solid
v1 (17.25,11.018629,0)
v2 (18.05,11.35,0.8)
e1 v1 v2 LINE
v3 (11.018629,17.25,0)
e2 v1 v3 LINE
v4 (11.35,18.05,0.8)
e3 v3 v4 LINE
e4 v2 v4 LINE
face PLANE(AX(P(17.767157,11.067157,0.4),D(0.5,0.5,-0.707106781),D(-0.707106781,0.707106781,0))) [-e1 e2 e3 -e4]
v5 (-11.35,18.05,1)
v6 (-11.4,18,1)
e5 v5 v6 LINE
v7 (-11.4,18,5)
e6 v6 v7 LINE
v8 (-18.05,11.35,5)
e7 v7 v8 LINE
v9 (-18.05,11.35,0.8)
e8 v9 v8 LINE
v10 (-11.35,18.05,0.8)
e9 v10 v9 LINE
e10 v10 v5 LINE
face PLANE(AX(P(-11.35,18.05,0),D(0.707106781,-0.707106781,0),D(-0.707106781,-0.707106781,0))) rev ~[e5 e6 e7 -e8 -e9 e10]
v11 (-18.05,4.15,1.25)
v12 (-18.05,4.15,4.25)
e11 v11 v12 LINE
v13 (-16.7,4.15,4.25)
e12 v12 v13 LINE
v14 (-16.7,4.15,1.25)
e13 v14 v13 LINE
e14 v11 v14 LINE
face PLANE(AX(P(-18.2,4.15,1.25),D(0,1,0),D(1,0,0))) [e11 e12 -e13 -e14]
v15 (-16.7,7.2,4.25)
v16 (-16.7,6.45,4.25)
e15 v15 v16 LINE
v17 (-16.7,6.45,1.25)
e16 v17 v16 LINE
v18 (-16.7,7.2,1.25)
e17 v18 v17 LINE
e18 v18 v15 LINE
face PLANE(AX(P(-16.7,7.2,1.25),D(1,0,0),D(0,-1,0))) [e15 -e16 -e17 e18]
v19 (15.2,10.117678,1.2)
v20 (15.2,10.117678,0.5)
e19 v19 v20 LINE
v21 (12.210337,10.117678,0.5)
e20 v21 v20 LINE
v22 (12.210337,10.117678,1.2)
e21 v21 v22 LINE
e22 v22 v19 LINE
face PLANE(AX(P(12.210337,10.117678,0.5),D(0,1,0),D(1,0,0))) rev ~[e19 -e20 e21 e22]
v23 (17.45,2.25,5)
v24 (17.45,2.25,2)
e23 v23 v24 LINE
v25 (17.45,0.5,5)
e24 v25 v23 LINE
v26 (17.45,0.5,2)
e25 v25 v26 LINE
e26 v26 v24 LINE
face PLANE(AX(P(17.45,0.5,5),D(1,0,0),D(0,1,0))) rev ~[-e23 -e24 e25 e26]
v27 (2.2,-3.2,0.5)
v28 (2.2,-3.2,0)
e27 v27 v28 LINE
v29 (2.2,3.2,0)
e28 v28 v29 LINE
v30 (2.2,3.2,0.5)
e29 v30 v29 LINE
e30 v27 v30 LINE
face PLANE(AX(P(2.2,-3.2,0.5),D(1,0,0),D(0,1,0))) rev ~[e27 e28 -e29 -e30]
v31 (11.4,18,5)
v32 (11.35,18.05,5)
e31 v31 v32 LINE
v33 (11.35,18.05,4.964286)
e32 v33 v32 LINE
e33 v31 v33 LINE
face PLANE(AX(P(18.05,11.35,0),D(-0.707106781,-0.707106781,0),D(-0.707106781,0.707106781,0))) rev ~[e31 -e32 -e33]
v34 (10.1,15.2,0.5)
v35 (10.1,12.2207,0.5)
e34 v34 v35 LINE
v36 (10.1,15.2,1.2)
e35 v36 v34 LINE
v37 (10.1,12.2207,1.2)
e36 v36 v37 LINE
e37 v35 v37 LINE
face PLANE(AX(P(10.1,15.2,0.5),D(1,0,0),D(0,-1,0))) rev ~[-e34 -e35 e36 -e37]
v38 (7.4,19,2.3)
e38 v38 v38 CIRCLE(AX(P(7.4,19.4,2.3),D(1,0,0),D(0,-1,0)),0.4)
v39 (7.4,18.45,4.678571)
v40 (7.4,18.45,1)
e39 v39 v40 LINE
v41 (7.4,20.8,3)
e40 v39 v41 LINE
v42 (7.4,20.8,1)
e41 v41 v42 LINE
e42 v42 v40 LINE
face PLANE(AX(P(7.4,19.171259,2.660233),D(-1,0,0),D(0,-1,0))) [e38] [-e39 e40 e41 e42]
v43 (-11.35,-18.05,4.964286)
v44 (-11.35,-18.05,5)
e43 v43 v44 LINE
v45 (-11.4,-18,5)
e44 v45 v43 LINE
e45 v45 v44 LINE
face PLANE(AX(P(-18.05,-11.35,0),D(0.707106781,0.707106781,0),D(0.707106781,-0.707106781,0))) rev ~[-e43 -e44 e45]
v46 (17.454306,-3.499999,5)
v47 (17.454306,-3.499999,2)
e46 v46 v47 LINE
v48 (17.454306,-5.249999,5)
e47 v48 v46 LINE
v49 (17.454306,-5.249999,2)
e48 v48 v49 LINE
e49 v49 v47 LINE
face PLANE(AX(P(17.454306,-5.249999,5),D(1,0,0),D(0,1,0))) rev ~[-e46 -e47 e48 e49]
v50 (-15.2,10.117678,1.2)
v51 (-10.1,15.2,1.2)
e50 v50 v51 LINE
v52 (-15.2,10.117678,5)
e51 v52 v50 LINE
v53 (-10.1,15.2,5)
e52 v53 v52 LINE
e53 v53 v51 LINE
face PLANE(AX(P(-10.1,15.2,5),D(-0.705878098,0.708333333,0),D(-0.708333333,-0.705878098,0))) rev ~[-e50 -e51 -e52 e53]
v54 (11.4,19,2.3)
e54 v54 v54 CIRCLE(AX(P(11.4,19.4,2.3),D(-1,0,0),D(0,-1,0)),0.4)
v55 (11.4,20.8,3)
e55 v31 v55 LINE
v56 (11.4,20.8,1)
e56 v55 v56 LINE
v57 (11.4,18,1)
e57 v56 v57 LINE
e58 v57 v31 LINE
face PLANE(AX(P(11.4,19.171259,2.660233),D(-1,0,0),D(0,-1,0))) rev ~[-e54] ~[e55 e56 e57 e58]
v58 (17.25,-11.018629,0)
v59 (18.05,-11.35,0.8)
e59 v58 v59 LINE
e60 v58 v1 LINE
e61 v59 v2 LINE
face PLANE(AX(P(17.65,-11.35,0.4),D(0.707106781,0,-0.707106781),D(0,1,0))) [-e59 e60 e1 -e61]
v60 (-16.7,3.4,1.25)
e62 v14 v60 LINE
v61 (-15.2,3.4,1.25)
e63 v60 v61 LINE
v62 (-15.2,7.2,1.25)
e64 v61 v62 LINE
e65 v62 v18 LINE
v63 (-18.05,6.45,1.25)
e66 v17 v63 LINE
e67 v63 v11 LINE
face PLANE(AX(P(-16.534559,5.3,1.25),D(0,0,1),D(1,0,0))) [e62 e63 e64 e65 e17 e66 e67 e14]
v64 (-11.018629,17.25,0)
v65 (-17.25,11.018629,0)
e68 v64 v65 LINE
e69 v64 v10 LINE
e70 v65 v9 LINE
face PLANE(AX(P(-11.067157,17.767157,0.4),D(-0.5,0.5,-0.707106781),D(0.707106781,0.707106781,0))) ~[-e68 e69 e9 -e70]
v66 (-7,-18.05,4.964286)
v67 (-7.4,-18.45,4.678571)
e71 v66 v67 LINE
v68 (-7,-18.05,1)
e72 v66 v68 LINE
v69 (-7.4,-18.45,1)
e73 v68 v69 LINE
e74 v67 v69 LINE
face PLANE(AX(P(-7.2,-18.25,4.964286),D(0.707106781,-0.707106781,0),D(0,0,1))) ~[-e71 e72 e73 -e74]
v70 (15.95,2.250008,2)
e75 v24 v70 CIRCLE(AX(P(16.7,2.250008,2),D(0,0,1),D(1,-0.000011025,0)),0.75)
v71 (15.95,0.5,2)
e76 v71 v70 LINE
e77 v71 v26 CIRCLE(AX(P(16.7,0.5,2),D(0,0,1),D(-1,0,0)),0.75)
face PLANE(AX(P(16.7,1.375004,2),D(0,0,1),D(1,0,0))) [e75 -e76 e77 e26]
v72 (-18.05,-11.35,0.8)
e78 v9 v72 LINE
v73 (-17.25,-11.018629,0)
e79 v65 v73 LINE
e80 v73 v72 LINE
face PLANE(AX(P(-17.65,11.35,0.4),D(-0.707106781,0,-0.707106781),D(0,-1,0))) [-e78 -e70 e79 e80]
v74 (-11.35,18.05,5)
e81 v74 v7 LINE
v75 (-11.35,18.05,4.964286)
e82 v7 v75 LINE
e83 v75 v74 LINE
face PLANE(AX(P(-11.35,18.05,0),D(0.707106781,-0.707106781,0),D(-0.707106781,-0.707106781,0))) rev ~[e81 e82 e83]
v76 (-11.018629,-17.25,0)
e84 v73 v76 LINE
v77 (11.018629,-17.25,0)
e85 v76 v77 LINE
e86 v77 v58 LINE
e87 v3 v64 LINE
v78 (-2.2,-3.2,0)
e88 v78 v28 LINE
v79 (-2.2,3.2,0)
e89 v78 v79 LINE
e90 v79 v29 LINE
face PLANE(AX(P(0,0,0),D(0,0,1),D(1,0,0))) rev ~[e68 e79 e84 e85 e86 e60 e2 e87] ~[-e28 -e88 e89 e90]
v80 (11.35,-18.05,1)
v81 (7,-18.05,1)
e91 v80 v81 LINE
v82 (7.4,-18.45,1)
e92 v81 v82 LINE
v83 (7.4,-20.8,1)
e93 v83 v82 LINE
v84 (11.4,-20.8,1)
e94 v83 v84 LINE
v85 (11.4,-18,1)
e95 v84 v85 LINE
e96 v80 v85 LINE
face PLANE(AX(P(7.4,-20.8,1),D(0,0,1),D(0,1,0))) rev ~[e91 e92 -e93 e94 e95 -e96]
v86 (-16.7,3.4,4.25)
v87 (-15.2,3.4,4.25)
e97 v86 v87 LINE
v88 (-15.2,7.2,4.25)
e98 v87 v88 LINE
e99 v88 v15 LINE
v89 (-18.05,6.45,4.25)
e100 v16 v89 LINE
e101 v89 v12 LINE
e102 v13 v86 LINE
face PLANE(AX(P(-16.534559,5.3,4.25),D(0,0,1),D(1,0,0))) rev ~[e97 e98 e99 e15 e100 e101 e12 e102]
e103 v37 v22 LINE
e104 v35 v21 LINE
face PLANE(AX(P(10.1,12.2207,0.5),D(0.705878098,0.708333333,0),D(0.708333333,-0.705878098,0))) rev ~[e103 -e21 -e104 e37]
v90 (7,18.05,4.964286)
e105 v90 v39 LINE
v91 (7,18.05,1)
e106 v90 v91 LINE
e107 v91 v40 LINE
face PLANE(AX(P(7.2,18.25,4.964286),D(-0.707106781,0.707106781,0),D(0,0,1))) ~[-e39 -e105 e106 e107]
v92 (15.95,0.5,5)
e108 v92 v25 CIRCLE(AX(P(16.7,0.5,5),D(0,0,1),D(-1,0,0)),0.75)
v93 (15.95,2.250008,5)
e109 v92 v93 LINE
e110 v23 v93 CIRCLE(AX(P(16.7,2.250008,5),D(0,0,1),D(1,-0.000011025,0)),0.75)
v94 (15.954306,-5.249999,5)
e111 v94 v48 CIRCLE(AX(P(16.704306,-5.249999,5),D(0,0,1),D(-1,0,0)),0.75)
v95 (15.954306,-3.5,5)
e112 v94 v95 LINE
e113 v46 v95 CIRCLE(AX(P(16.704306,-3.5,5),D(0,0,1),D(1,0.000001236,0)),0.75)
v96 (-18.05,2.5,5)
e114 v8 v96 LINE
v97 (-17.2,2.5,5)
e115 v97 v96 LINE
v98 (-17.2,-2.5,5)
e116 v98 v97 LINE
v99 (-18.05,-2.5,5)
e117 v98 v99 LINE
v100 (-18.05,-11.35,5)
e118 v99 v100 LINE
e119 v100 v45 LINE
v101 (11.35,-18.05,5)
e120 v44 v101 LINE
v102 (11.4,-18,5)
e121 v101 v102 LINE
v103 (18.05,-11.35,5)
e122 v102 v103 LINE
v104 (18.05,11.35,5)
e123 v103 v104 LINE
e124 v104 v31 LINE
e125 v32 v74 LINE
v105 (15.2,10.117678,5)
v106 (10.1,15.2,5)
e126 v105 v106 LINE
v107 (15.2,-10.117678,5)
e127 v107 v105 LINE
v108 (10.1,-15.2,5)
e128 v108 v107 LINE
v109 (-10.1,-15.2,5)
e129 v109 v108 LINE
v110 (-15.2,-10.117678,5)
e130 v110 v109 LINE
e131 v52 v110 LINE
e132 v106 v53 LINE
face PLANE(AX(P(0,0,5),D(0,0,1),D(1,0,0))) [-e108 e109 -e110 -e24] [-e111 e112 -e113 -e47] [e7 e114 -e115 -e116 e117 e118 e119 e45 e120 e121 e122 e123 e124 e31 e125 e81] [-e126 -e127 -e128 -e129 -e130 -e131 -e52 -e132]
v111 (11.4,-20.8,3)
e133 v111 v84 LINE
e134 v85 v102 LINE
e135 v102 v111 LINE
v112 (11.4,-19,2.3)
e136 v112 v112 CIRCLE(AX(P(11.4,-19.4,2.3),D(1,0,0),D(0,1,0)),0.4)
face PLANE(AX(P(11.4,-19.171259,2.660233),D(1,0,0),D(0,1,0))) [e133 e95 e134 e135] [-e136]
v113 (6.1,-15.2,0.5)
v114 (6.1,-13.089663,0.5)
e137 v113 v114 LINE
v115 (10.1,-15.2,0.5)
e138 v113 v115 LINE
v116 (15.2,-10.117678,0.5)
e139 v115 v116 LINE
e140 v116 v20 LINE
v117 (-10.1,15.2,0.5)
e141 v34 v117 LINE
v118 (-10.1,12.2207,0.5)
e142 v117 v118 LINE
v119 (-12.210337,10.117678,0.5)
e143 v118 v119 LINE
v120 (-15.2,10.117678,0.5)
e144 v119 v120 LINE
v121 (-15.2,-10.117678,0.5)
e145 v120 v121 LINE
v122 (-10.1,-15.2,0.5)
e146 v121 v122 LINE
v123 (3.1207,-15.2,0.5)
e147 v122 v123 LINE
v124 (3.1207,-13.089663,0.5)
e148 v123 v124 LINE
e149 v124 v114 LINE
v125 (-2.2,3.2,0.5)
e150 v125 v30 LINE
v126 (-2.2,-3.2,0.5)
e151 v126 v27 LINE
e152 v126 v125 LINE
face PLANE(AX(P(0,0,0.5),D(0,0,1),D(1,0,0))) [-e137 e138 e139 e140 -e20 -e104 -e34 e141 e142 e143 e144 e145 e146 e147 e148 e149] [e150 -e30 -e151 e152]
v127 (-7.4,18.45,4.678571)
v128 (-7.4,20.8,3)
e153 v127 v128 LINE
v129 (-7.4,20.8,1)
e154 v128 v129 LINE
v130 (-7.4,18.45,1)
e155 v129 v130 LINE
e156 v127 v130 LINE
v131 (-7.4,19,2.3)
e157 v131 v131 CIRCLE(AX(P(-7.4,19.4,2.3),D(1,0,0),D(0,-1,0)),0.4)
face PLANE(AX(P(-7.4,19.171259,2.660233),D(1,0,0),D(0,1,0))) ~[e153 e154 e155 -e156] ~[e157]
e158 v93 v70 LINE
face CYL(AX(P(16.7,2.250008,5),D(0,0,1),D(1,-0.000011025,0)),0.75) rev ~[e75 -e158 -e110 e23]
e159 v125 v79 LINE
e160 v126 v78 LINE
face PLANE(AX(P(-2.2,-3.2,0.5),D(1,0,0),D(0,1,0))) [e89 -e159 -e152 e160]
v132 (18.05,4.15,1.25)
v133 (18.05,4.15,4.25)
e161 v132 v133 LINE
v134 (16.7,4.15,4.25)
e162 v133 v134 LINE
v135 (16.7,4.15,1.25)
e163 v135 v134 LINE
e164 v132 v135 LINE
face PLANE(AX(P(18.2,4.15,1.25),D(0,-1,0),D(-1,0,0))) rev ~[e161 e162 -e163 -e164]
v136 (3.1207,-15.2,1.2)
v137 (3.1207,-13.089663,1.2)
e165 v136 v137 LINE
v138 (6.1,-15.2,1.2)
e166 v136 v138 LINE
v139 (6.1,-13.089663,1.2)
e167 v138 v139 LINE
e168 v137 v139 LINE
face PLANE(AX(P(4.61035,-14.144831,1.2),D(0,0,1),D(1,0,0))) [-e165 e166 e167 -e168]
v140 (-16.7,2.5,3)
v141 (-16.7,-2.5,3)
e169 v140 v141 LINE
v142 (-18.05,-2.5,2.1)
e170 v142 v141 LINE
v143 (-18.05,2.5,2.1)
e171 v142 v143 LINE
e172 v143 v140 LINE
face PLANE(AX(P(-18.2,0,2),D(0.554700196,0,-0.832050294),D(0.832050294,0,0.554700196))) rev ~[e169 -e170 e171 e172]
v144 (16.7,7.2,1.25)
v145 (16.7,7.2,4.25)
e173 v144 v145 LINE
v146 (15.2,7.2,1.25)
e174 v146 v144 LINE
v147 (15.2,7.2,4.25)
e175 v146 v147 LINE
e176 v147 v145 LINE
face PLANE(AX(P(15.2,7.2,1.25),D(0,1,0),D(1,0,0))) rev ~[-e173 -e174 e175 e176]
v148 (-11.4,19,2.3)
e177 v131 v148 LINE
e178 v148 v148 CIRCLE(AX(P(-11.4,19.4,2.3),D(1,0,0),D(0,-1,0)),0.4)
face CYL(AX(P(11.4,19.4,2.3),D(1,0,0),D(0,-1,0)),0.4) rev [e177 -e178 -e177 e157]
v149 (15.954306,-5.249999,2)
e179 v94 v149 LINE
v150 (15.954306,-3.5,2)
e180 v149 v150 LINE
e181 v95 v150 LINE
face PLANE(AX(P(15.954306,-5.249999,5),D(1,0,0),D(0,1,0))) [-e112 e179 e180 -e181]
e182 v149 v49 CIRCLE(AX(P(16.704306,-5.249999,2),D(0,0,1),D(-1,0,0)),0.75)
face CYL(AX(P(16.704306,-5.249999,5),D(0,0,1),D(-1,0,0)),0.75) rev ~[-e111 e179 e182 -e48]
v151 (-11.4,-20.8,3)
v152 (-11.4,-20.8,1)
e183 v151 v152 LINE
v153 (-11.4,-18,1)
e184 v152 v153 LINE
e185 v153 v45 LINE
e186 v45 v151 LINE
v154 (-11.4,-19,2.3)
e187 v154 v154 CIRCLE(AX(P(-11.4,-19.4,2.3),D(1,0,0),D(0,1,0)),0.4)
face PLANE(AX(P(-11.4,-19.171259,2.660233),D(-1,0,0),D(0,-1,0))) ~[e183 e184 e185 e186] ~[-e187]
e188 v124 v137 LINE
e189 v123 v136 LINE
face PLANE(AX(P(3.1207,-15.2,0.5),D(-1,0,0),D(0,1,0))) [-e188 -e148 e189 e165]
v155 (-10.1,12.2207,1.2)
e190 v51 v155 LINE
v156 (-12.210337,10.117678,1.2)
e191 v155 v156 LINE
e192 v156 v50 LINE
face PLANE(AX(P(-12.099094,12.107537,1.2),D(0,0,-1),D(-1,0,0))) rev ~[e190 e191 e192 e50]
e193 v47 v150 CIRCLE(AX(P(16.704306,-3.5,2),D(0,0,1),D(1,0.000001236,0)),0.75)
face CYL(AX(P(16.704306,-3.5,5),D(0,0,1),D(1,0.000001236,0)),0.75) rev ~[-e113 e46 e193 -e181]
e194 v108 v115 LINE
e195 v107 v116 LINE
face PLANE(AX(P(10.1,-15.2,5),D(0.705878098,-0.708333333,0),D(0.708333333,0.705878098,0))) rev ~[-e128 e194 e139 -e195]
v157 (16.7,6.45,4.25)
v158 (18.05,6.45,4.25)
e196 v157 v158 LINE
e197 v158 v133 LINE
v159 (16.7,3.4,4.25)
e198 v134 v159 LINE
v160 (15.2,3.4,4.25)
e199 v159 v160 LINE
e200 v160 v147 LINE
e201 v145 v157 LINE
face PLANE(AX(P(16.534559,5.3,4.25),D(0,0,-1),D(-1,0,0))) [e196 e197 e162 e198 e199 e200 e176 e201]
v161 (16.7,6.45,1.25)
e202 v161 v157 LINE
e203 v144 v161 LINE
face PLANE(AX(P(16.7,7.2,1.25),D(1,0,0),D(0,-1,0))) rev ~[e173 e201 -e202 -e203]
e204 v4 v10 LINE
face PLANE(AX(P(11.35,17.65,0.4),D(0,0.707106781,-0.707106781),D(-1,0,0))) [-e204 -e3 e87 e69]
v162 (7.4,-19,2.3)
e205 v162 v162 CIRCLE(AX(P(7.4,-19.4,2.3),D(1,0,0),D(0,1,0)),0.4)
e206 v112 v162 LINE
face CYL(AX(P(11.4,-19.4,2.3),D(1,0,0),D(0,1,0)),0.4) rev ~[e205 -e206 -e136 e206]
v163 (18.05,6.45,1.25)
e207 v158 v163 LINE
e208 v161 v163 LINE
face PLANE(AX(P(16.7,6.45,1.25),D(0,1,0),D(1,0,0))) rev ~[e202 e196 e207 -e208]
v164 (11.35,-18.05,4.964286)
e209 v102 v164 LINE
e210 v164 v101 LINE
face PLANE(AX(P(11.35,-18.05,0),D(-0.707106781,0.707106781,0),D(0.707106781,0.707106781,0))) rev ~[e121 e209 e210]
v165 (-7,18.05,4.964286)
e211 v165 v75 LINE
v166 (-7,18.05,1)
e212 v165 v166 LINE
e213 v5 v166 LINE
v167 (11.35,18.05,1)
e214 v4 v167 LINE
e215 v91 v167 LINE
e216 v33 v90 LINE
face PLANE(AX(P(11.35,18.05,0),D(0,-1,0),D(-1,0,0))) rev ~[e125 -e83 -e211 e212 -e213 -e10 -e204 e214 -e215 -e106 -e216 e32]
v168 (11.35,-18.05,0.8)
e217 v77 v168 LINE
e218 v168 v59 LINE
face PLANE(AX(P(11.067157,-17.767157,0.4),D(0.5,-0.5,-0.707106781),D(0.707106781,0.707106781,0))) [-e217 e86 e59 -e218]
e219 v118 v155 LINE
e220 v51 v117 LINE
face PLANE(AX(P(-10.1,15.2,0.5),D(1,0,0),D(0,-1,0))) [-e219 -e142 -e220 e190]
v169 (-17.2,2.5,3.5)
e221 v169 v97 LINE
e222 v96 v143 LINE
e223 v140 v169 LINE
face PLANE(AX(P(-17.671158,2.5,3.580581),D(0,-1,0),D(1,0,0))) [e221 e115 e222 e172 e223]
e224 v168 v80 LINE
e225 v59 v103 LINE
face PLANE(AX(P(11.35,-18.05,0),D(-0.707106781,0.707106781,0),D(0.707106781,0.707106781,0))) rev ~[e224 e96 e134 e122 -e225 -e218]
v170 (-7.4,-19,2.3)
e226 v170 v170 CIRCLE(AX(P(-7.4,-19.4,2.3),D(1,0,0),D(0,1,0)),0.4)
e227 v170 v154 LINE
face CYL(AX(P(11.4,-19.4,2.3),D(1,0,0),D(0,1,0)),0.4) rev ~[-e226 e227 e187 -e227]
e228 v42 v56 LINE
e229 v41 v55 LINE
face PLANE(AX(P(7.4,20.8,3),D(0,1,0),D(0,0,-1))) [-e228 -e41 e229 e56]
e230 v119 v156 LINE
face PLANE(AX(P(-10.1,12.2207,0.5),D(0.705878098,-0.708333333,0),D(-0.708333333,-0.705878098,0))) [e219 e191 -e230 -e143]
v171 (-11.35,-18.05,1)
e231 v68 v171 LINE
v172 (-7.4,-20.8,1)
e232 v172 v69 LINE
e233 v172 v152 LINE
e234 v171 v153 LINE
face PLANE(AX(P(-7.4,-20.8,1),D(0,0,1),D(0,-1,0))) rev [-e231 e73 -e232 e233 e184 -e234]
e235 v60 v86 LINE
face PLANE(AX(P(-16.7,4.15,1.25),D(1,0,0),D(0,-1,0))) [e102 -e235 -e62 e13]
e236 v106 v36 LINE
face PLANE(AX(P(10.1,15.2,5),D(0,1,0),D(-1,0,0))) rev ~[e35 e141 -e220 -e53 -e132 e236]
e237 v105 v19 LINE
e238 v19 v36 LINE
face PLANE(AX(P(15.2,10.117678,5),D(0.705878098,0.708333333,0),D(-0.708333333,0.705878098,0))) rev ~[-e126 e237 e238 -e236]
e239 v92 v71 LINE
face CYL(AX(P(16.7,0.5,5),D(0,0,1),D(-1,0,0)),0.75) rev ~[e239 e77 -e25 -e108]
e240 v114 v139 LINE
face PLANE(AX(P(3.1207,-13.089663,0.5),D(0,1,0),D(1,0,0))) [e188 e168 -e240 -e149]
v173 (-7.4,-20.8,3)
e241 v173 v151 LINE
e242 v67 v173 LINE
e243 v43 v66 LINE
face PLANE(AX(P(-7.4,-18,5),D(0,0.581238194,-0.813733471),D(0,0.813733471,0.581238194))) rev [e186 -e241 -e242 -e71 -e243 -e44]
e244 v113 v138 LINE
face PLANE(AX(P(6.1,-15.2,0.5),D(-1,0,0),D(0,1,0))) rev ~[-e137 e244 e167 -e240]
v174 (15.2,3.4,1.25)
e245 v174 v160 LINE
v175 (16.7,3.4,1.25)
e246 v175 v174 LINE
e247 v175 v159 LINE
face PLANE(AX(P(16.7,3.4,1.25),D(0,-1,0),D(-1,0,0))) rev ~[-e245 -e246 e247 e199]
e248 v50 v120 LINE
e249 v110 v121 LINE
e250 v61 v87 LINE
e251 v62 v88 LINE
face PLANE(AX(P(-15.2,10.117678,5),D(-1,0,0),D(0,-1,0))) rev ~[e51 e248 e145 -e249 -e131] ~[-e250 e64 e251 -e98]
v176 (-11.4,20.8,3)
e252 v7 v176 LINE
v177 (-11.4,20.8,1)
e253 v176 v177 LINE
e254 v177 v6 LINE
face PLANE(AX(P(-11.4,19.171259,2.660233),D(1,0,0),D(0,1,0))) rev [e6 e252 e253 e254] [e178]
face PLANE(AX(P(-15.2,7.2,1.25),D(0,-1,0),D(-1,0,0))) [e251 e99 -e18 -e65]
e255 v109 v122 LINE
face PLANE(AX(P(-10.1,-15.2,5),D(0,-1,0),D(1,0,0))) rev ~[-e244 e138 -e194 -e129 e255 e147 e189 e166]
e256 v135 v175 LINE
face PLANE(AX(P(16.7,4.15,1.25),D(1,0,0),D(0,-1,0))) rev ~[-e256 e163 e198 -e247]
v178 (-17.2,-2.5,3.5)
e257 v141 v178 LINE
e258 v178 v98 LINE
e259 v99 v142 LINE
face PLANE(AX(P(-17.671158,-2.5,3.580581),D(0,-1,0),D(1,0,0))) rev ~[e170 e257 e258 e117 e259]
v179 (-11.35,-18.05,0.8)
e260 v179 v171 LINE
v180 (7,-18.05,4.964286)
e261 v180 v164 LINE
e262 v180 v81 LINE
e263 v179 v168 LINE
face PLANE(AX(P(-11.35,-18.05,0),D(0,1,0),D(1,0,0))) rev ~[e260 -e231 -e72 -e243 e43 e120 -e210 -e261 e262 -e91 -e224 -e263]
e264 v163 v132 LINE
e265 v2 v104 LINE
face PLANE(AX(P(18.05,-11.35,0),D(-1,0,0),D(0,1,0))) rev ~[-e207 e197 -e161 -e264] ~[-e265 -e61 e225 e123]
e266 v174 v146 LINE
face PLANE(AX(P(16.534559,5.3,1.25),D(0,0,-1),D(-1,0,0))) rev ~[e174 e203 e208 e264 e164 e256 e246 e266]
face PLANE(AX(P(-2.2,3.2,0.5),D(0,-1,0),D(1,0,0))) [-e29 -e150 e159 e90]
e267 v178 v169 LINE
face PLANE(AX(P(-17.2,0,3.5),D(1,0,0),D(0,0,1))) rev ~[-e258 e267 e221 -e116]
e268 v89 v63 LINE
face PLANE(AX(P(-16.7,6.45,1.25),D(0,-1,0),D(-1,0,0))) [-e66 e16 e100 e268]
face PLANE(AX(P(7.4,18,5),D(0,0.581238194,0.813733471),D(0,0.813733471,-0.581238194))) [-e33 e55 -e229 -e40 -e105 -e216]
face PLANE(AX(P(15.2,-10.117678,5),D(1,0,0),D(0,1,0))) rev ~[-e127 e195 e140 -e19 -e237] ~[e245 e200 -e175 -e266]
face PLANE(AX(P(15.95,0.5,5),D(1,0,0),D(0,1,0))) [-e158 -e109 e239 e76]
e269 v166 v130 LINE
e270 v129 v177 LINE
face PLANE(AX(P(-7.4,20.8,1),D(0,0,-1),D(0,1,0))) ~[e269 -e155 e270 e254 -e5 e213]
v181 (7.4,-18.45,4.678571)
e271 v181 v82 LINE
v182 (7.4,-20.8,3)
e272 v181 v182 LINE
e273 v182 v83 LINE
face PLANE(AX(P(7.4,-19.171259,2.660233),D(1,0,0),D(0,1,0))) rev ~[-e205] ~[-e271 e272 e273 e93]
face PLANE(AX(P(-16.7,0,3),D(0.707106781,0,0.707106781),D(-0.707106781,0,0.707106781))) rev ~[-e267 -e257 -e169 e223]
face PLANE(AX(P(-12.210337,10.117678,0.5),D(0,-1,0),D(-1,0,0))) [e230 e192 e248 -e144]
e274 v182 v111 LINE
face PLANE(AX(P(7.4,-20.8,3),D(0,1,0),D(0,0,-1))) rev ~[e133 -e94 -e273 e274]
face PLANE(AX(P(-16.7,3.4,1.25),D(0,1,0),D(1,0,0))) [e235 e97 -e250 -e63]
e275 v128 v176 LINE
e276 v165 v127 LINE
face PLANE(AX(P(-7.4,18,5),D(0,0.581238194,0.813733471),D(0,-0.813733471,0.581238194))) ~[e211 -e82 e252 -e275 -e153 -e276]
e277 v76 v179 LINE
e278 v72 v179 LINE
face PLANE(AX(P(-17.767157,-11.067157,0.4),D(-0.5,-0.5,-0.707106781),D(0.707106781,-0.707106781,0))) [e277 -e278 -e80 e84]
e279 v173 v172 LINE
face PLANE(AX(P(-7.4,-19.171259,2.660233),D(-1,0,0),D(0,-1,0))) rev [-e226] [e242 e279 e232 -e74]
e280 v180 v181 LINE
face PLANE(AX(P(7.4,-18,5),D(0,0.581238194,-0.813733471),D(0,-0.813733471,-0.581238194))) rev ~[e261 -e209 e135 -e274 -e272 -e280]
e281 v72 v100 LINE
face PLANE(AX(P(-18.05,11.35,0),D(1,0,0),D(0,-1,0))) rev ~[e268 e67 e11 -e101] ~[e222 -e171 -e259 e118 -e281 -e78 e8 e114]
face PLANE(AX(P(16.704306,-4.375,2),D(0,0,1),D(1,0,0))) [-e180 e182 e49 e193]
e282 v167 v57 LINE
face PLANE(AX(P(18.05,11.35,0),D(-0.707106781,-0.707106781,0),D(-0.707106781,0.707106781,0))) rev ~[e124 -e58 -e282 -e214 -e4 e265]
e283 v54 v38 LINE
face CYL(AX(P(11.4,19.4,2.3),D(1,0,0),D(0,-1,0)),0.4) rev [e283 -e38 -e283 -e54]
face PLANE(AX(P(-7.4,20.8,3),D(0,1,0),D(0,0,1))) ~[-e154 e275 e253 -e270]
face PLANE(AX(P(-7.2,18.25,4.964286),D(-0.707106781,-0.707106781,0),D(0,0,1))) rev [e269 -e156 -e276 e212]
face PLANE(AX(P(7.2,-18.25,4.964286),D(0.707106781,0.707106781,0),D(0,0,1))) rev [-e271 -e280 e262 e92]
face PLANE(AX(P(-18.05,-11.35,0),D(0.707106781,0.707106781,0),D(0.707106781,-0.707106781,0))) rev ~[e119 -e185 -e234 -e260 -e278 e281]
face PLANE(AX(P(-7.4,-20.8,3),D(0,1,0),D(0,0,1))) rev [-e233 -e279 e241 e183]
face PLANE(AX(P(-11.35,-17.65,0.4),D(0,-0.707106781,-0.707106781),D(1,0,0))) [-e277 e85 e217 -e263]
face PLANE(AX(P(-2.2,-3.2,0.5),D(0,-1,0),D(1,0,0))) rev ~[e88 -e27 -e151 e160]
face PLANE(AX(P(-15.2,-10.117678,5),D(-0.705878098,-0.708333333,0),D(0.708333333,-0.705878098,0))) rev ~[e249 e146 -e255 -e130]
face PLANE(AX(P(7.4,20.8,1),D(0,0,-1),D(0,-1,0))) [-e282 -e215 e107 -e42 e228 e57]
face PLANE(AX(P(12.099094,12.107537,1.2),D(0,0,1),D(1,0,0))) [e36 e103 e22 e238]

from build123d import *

# Parameters (mm, degrees)
PAD_DEPTH               = 5
POCKET_DEPTH            = 4.5
POCKET001_DEPTH         = 3
SKETCH005_W             = 2.9792998166
SKETCH005_H             = 2.1103373701
PAD001_DEPTH            = 0.7
POCKET002_DEPTH         = 2.5
POCKET003_DEPTH         = 3
PAD002_DEPTH            = 4
PAD002_MIRRORED_2_DEPTH = 4
SKETCH014_R             = 0.4
POCKET004_DEPTH         = 140.0632958807
SKETCH003_W             = 4.4
SKETCH003_H             = 6.4
POCKET005_DEPTH         = 0.501
CHAMFER_SIZE            = 0.8
CHAMFER001_SIZE         = 0.4


with BuildPart() as part:
    # Sketch001 → Pad (new body)
    with BuildSketch(Plane.XY):
        Polygon((18.05, 11.35), (11.35, 18.05), (-11.35, 18.05), (-18.05, 11.35), (-18.05, -11.35), (-11.35, -18.05), (11.35, -18.05), (18.05, -11.35), align=None)
    extrude(amount=PAD_DEPTH)

    # Sketch (on Face10 of Pad) → Pocket (cut)
    with BuildSketch(Plane.XY.offset(5)):
        Polygon((-15.2, 10.1176776962), (-15.2, -10.1176776962), (-10.1, -15.2), (10.1, -15.2), (15.2, -10.1176776962), (15.2, 10.1176776962), (10.1, 15.2), (-10.1, 15.2), align=None)
    extrude(amount=-POCKET_DEPTH, mode=Mode.SUBTRACT)

    # Sketch004 (on Face19 of Pocket) → Pocket001 (cut)
    with BuildSketch(Plane.XY.offset(1.25)):
        Polygon((15.2, 3.4), (15.2, 7.2), (16.7, 7.2), (16.7, 6.45), (18.2, 6.45), (18.2, 4.15), (16.7, 4.15), (16.7, 3.4), align=None)
        Polygon((-15.2, 3.4), (-15.2, 7.2), (-16.7, 7.2), (-16.7, 6.45), (-18.2, 6.45), (-18.2, 4.15), (-16.7, 4.15), (-16.7, 3.4), align=None)
    extrude(amount=POCKET001_DEPTH, mode=Mode.SUBTRACT)

    # Sketch005 (on Face31 of Pocket001) → Pad001 (join)
    with BuildSketch(Plane.XY.offset(0.5)):
        Polygon((-10.1, 15.2), (-10.1, 12.2207001834), (-12.2103373701, 10.1176776962), (-15.2, 10.1176776962), align=None)
        Polygon((12.2103373701, 10.1176776962), (15.2, 10.1176776962), (10.1, 15.2), (10.1, 12.2207001834), align=None)
        with Locations((4.6103500917, -14.1448313149)):
            Rectangle(SKETCH005_W, SKETCH005_H)
    extrude(amount=PAD001_DEPTH)

    # Sketch006 → Pocket002 (cut, symmetric)
    with BuildSketch(Plane.XZ):
        Polygon((-18.2, 5), (-18.2, 2), (-16.7, 3), (-17.2, 3.5), (-17.2, 5), align=None)
    extrude(amount=POCKET002_DEPTH, both=True, mode=Mode.SUBTRACT)

    # Sketch007 → Pocket003 (cut)
    with BuildSketch(Plane.XY.offset(5)):
        with BuildLine():
            ThreePointArc((15.95, 0.5), (16.7, -0.25), (17.45, 0.5))
            Line((17.45, 0.5), (17.45, 2.25))
            ThreePointArc((17.45, 2.25), (16.7000041345, 3.0000082691), (15.95, 2.2500082691))
            Line((15.95, 0.5), (15.95, 2.2500082691))
        make_face()
        with BuildLine():
            ThreePointArc((15.9543057832, -5.2499990728), (16.7043057832, -5.9999990728), (17.4543057832, -5.2499990728))
            Line((17.4543057832, -5.2499990728), (17.4543057832, -3.4999990728))
            ThreePointArc((17.4543057832, -3.4999990728), (16.7043053195, -2.75), (15.9543057832, -3.5))
            Line((15.9543057832, -5.2499990728), (15.9543057832, -3.5))
        make_face()
    extrude(amount=-POCKET003_DEPTH, mode=Mode.SUBTRACT)

    # Sketch008 → Pad002 (join)
    with BuildSketch(Plane.YZ.offset(7.4)):
        Polygon((-18, 1), (-18, 5), (-20.8, 3), (-20.8, 1), align=None)
    pad002 = extrude(amount=PAD002_DEPTH)

    # Sketch008 Mirrored 2 → Pad002 Mirrored 2 (add)
    with BuildSketch(Plane(origin=(7.4, 0, 0), x_dir=(0, -1, 0), z_dir=(-1, 0, 0))):
        Polygon((-18, 1), (-18, 5), (-20.8, 3), (-20.8, 1), align=None)
    pad002_mirrored_2 = extrude(amount=-PAD002_MIRRORED_2_DEPTH)

    # Mirrored001: Pad002, Pad002 Mirrored 2 across YZ
    add(pad002.mirror(Plane.YZ))
    add(pad002_mirrored_2.mirror(Plane.YZ))

    # Sketch014 (on Face59 of MultiTransform) → Pocket004 (cut, through all)
    with BuildSketch(Plane.YZ.offset(11.4)):
        with Locations((-19.4, 2.3)):
            Circle(SKETCH014_R)
    pocket004 = extrude(amount=-POCKET004_DEPTH, mode=Mode.SUBTRACT)

    # Mirrored002: Pocket004 across Sketch014 V_Axis
    add(pocket004.mirror(Plane(origin=(11.4, 0, 0), x_dir=(1, 0, 0), z_dir=(0, 1, 0))), mode=Mode.SUBTRACT)

    # Sketch003 (on Face67 of Mirrored002) → Pocket005 (cut, through all)
    with BuildSketch(Plane.XY.offset(0.5)):
        Rectangle(SKETCH003_W, SKETCH003_H)
    extrude(amount=-POCKET005_DEPTH, mode=Mode.SUBTRACT)

    # Chamfer
    chamfer_edges = [part.edges().sort_by_distance(p)[0] for p in [
        (-14.7, -14.7, 0),
        (-18.05, 0, 0),
        (0, 18.05, 0),
        (-14.7, 14.7, 0),
        (14.7, 14.7, 0),
        (18.05, 0, 0),
        (14.7, -14.7, 0),
        (0, -18.05, 0),
    ]]
    chamfer(chamfer_edges, length=CHAMFER_SIZE)

    # Chamfer001
    chamfer001_edges = [part.edges().sort_by_distance(p)[0] for p in [
        (7.4, 18.05, 2.982143),
        (-7.4, 18.05, 2.982143),
        (-7.4, -18.05, 2.982143),
        (7.4, -18.05, 2.982143),
    ]]
    chamfer(chamfer001_edges, length=CHAMFER001_SIZE)


solid = part.part
